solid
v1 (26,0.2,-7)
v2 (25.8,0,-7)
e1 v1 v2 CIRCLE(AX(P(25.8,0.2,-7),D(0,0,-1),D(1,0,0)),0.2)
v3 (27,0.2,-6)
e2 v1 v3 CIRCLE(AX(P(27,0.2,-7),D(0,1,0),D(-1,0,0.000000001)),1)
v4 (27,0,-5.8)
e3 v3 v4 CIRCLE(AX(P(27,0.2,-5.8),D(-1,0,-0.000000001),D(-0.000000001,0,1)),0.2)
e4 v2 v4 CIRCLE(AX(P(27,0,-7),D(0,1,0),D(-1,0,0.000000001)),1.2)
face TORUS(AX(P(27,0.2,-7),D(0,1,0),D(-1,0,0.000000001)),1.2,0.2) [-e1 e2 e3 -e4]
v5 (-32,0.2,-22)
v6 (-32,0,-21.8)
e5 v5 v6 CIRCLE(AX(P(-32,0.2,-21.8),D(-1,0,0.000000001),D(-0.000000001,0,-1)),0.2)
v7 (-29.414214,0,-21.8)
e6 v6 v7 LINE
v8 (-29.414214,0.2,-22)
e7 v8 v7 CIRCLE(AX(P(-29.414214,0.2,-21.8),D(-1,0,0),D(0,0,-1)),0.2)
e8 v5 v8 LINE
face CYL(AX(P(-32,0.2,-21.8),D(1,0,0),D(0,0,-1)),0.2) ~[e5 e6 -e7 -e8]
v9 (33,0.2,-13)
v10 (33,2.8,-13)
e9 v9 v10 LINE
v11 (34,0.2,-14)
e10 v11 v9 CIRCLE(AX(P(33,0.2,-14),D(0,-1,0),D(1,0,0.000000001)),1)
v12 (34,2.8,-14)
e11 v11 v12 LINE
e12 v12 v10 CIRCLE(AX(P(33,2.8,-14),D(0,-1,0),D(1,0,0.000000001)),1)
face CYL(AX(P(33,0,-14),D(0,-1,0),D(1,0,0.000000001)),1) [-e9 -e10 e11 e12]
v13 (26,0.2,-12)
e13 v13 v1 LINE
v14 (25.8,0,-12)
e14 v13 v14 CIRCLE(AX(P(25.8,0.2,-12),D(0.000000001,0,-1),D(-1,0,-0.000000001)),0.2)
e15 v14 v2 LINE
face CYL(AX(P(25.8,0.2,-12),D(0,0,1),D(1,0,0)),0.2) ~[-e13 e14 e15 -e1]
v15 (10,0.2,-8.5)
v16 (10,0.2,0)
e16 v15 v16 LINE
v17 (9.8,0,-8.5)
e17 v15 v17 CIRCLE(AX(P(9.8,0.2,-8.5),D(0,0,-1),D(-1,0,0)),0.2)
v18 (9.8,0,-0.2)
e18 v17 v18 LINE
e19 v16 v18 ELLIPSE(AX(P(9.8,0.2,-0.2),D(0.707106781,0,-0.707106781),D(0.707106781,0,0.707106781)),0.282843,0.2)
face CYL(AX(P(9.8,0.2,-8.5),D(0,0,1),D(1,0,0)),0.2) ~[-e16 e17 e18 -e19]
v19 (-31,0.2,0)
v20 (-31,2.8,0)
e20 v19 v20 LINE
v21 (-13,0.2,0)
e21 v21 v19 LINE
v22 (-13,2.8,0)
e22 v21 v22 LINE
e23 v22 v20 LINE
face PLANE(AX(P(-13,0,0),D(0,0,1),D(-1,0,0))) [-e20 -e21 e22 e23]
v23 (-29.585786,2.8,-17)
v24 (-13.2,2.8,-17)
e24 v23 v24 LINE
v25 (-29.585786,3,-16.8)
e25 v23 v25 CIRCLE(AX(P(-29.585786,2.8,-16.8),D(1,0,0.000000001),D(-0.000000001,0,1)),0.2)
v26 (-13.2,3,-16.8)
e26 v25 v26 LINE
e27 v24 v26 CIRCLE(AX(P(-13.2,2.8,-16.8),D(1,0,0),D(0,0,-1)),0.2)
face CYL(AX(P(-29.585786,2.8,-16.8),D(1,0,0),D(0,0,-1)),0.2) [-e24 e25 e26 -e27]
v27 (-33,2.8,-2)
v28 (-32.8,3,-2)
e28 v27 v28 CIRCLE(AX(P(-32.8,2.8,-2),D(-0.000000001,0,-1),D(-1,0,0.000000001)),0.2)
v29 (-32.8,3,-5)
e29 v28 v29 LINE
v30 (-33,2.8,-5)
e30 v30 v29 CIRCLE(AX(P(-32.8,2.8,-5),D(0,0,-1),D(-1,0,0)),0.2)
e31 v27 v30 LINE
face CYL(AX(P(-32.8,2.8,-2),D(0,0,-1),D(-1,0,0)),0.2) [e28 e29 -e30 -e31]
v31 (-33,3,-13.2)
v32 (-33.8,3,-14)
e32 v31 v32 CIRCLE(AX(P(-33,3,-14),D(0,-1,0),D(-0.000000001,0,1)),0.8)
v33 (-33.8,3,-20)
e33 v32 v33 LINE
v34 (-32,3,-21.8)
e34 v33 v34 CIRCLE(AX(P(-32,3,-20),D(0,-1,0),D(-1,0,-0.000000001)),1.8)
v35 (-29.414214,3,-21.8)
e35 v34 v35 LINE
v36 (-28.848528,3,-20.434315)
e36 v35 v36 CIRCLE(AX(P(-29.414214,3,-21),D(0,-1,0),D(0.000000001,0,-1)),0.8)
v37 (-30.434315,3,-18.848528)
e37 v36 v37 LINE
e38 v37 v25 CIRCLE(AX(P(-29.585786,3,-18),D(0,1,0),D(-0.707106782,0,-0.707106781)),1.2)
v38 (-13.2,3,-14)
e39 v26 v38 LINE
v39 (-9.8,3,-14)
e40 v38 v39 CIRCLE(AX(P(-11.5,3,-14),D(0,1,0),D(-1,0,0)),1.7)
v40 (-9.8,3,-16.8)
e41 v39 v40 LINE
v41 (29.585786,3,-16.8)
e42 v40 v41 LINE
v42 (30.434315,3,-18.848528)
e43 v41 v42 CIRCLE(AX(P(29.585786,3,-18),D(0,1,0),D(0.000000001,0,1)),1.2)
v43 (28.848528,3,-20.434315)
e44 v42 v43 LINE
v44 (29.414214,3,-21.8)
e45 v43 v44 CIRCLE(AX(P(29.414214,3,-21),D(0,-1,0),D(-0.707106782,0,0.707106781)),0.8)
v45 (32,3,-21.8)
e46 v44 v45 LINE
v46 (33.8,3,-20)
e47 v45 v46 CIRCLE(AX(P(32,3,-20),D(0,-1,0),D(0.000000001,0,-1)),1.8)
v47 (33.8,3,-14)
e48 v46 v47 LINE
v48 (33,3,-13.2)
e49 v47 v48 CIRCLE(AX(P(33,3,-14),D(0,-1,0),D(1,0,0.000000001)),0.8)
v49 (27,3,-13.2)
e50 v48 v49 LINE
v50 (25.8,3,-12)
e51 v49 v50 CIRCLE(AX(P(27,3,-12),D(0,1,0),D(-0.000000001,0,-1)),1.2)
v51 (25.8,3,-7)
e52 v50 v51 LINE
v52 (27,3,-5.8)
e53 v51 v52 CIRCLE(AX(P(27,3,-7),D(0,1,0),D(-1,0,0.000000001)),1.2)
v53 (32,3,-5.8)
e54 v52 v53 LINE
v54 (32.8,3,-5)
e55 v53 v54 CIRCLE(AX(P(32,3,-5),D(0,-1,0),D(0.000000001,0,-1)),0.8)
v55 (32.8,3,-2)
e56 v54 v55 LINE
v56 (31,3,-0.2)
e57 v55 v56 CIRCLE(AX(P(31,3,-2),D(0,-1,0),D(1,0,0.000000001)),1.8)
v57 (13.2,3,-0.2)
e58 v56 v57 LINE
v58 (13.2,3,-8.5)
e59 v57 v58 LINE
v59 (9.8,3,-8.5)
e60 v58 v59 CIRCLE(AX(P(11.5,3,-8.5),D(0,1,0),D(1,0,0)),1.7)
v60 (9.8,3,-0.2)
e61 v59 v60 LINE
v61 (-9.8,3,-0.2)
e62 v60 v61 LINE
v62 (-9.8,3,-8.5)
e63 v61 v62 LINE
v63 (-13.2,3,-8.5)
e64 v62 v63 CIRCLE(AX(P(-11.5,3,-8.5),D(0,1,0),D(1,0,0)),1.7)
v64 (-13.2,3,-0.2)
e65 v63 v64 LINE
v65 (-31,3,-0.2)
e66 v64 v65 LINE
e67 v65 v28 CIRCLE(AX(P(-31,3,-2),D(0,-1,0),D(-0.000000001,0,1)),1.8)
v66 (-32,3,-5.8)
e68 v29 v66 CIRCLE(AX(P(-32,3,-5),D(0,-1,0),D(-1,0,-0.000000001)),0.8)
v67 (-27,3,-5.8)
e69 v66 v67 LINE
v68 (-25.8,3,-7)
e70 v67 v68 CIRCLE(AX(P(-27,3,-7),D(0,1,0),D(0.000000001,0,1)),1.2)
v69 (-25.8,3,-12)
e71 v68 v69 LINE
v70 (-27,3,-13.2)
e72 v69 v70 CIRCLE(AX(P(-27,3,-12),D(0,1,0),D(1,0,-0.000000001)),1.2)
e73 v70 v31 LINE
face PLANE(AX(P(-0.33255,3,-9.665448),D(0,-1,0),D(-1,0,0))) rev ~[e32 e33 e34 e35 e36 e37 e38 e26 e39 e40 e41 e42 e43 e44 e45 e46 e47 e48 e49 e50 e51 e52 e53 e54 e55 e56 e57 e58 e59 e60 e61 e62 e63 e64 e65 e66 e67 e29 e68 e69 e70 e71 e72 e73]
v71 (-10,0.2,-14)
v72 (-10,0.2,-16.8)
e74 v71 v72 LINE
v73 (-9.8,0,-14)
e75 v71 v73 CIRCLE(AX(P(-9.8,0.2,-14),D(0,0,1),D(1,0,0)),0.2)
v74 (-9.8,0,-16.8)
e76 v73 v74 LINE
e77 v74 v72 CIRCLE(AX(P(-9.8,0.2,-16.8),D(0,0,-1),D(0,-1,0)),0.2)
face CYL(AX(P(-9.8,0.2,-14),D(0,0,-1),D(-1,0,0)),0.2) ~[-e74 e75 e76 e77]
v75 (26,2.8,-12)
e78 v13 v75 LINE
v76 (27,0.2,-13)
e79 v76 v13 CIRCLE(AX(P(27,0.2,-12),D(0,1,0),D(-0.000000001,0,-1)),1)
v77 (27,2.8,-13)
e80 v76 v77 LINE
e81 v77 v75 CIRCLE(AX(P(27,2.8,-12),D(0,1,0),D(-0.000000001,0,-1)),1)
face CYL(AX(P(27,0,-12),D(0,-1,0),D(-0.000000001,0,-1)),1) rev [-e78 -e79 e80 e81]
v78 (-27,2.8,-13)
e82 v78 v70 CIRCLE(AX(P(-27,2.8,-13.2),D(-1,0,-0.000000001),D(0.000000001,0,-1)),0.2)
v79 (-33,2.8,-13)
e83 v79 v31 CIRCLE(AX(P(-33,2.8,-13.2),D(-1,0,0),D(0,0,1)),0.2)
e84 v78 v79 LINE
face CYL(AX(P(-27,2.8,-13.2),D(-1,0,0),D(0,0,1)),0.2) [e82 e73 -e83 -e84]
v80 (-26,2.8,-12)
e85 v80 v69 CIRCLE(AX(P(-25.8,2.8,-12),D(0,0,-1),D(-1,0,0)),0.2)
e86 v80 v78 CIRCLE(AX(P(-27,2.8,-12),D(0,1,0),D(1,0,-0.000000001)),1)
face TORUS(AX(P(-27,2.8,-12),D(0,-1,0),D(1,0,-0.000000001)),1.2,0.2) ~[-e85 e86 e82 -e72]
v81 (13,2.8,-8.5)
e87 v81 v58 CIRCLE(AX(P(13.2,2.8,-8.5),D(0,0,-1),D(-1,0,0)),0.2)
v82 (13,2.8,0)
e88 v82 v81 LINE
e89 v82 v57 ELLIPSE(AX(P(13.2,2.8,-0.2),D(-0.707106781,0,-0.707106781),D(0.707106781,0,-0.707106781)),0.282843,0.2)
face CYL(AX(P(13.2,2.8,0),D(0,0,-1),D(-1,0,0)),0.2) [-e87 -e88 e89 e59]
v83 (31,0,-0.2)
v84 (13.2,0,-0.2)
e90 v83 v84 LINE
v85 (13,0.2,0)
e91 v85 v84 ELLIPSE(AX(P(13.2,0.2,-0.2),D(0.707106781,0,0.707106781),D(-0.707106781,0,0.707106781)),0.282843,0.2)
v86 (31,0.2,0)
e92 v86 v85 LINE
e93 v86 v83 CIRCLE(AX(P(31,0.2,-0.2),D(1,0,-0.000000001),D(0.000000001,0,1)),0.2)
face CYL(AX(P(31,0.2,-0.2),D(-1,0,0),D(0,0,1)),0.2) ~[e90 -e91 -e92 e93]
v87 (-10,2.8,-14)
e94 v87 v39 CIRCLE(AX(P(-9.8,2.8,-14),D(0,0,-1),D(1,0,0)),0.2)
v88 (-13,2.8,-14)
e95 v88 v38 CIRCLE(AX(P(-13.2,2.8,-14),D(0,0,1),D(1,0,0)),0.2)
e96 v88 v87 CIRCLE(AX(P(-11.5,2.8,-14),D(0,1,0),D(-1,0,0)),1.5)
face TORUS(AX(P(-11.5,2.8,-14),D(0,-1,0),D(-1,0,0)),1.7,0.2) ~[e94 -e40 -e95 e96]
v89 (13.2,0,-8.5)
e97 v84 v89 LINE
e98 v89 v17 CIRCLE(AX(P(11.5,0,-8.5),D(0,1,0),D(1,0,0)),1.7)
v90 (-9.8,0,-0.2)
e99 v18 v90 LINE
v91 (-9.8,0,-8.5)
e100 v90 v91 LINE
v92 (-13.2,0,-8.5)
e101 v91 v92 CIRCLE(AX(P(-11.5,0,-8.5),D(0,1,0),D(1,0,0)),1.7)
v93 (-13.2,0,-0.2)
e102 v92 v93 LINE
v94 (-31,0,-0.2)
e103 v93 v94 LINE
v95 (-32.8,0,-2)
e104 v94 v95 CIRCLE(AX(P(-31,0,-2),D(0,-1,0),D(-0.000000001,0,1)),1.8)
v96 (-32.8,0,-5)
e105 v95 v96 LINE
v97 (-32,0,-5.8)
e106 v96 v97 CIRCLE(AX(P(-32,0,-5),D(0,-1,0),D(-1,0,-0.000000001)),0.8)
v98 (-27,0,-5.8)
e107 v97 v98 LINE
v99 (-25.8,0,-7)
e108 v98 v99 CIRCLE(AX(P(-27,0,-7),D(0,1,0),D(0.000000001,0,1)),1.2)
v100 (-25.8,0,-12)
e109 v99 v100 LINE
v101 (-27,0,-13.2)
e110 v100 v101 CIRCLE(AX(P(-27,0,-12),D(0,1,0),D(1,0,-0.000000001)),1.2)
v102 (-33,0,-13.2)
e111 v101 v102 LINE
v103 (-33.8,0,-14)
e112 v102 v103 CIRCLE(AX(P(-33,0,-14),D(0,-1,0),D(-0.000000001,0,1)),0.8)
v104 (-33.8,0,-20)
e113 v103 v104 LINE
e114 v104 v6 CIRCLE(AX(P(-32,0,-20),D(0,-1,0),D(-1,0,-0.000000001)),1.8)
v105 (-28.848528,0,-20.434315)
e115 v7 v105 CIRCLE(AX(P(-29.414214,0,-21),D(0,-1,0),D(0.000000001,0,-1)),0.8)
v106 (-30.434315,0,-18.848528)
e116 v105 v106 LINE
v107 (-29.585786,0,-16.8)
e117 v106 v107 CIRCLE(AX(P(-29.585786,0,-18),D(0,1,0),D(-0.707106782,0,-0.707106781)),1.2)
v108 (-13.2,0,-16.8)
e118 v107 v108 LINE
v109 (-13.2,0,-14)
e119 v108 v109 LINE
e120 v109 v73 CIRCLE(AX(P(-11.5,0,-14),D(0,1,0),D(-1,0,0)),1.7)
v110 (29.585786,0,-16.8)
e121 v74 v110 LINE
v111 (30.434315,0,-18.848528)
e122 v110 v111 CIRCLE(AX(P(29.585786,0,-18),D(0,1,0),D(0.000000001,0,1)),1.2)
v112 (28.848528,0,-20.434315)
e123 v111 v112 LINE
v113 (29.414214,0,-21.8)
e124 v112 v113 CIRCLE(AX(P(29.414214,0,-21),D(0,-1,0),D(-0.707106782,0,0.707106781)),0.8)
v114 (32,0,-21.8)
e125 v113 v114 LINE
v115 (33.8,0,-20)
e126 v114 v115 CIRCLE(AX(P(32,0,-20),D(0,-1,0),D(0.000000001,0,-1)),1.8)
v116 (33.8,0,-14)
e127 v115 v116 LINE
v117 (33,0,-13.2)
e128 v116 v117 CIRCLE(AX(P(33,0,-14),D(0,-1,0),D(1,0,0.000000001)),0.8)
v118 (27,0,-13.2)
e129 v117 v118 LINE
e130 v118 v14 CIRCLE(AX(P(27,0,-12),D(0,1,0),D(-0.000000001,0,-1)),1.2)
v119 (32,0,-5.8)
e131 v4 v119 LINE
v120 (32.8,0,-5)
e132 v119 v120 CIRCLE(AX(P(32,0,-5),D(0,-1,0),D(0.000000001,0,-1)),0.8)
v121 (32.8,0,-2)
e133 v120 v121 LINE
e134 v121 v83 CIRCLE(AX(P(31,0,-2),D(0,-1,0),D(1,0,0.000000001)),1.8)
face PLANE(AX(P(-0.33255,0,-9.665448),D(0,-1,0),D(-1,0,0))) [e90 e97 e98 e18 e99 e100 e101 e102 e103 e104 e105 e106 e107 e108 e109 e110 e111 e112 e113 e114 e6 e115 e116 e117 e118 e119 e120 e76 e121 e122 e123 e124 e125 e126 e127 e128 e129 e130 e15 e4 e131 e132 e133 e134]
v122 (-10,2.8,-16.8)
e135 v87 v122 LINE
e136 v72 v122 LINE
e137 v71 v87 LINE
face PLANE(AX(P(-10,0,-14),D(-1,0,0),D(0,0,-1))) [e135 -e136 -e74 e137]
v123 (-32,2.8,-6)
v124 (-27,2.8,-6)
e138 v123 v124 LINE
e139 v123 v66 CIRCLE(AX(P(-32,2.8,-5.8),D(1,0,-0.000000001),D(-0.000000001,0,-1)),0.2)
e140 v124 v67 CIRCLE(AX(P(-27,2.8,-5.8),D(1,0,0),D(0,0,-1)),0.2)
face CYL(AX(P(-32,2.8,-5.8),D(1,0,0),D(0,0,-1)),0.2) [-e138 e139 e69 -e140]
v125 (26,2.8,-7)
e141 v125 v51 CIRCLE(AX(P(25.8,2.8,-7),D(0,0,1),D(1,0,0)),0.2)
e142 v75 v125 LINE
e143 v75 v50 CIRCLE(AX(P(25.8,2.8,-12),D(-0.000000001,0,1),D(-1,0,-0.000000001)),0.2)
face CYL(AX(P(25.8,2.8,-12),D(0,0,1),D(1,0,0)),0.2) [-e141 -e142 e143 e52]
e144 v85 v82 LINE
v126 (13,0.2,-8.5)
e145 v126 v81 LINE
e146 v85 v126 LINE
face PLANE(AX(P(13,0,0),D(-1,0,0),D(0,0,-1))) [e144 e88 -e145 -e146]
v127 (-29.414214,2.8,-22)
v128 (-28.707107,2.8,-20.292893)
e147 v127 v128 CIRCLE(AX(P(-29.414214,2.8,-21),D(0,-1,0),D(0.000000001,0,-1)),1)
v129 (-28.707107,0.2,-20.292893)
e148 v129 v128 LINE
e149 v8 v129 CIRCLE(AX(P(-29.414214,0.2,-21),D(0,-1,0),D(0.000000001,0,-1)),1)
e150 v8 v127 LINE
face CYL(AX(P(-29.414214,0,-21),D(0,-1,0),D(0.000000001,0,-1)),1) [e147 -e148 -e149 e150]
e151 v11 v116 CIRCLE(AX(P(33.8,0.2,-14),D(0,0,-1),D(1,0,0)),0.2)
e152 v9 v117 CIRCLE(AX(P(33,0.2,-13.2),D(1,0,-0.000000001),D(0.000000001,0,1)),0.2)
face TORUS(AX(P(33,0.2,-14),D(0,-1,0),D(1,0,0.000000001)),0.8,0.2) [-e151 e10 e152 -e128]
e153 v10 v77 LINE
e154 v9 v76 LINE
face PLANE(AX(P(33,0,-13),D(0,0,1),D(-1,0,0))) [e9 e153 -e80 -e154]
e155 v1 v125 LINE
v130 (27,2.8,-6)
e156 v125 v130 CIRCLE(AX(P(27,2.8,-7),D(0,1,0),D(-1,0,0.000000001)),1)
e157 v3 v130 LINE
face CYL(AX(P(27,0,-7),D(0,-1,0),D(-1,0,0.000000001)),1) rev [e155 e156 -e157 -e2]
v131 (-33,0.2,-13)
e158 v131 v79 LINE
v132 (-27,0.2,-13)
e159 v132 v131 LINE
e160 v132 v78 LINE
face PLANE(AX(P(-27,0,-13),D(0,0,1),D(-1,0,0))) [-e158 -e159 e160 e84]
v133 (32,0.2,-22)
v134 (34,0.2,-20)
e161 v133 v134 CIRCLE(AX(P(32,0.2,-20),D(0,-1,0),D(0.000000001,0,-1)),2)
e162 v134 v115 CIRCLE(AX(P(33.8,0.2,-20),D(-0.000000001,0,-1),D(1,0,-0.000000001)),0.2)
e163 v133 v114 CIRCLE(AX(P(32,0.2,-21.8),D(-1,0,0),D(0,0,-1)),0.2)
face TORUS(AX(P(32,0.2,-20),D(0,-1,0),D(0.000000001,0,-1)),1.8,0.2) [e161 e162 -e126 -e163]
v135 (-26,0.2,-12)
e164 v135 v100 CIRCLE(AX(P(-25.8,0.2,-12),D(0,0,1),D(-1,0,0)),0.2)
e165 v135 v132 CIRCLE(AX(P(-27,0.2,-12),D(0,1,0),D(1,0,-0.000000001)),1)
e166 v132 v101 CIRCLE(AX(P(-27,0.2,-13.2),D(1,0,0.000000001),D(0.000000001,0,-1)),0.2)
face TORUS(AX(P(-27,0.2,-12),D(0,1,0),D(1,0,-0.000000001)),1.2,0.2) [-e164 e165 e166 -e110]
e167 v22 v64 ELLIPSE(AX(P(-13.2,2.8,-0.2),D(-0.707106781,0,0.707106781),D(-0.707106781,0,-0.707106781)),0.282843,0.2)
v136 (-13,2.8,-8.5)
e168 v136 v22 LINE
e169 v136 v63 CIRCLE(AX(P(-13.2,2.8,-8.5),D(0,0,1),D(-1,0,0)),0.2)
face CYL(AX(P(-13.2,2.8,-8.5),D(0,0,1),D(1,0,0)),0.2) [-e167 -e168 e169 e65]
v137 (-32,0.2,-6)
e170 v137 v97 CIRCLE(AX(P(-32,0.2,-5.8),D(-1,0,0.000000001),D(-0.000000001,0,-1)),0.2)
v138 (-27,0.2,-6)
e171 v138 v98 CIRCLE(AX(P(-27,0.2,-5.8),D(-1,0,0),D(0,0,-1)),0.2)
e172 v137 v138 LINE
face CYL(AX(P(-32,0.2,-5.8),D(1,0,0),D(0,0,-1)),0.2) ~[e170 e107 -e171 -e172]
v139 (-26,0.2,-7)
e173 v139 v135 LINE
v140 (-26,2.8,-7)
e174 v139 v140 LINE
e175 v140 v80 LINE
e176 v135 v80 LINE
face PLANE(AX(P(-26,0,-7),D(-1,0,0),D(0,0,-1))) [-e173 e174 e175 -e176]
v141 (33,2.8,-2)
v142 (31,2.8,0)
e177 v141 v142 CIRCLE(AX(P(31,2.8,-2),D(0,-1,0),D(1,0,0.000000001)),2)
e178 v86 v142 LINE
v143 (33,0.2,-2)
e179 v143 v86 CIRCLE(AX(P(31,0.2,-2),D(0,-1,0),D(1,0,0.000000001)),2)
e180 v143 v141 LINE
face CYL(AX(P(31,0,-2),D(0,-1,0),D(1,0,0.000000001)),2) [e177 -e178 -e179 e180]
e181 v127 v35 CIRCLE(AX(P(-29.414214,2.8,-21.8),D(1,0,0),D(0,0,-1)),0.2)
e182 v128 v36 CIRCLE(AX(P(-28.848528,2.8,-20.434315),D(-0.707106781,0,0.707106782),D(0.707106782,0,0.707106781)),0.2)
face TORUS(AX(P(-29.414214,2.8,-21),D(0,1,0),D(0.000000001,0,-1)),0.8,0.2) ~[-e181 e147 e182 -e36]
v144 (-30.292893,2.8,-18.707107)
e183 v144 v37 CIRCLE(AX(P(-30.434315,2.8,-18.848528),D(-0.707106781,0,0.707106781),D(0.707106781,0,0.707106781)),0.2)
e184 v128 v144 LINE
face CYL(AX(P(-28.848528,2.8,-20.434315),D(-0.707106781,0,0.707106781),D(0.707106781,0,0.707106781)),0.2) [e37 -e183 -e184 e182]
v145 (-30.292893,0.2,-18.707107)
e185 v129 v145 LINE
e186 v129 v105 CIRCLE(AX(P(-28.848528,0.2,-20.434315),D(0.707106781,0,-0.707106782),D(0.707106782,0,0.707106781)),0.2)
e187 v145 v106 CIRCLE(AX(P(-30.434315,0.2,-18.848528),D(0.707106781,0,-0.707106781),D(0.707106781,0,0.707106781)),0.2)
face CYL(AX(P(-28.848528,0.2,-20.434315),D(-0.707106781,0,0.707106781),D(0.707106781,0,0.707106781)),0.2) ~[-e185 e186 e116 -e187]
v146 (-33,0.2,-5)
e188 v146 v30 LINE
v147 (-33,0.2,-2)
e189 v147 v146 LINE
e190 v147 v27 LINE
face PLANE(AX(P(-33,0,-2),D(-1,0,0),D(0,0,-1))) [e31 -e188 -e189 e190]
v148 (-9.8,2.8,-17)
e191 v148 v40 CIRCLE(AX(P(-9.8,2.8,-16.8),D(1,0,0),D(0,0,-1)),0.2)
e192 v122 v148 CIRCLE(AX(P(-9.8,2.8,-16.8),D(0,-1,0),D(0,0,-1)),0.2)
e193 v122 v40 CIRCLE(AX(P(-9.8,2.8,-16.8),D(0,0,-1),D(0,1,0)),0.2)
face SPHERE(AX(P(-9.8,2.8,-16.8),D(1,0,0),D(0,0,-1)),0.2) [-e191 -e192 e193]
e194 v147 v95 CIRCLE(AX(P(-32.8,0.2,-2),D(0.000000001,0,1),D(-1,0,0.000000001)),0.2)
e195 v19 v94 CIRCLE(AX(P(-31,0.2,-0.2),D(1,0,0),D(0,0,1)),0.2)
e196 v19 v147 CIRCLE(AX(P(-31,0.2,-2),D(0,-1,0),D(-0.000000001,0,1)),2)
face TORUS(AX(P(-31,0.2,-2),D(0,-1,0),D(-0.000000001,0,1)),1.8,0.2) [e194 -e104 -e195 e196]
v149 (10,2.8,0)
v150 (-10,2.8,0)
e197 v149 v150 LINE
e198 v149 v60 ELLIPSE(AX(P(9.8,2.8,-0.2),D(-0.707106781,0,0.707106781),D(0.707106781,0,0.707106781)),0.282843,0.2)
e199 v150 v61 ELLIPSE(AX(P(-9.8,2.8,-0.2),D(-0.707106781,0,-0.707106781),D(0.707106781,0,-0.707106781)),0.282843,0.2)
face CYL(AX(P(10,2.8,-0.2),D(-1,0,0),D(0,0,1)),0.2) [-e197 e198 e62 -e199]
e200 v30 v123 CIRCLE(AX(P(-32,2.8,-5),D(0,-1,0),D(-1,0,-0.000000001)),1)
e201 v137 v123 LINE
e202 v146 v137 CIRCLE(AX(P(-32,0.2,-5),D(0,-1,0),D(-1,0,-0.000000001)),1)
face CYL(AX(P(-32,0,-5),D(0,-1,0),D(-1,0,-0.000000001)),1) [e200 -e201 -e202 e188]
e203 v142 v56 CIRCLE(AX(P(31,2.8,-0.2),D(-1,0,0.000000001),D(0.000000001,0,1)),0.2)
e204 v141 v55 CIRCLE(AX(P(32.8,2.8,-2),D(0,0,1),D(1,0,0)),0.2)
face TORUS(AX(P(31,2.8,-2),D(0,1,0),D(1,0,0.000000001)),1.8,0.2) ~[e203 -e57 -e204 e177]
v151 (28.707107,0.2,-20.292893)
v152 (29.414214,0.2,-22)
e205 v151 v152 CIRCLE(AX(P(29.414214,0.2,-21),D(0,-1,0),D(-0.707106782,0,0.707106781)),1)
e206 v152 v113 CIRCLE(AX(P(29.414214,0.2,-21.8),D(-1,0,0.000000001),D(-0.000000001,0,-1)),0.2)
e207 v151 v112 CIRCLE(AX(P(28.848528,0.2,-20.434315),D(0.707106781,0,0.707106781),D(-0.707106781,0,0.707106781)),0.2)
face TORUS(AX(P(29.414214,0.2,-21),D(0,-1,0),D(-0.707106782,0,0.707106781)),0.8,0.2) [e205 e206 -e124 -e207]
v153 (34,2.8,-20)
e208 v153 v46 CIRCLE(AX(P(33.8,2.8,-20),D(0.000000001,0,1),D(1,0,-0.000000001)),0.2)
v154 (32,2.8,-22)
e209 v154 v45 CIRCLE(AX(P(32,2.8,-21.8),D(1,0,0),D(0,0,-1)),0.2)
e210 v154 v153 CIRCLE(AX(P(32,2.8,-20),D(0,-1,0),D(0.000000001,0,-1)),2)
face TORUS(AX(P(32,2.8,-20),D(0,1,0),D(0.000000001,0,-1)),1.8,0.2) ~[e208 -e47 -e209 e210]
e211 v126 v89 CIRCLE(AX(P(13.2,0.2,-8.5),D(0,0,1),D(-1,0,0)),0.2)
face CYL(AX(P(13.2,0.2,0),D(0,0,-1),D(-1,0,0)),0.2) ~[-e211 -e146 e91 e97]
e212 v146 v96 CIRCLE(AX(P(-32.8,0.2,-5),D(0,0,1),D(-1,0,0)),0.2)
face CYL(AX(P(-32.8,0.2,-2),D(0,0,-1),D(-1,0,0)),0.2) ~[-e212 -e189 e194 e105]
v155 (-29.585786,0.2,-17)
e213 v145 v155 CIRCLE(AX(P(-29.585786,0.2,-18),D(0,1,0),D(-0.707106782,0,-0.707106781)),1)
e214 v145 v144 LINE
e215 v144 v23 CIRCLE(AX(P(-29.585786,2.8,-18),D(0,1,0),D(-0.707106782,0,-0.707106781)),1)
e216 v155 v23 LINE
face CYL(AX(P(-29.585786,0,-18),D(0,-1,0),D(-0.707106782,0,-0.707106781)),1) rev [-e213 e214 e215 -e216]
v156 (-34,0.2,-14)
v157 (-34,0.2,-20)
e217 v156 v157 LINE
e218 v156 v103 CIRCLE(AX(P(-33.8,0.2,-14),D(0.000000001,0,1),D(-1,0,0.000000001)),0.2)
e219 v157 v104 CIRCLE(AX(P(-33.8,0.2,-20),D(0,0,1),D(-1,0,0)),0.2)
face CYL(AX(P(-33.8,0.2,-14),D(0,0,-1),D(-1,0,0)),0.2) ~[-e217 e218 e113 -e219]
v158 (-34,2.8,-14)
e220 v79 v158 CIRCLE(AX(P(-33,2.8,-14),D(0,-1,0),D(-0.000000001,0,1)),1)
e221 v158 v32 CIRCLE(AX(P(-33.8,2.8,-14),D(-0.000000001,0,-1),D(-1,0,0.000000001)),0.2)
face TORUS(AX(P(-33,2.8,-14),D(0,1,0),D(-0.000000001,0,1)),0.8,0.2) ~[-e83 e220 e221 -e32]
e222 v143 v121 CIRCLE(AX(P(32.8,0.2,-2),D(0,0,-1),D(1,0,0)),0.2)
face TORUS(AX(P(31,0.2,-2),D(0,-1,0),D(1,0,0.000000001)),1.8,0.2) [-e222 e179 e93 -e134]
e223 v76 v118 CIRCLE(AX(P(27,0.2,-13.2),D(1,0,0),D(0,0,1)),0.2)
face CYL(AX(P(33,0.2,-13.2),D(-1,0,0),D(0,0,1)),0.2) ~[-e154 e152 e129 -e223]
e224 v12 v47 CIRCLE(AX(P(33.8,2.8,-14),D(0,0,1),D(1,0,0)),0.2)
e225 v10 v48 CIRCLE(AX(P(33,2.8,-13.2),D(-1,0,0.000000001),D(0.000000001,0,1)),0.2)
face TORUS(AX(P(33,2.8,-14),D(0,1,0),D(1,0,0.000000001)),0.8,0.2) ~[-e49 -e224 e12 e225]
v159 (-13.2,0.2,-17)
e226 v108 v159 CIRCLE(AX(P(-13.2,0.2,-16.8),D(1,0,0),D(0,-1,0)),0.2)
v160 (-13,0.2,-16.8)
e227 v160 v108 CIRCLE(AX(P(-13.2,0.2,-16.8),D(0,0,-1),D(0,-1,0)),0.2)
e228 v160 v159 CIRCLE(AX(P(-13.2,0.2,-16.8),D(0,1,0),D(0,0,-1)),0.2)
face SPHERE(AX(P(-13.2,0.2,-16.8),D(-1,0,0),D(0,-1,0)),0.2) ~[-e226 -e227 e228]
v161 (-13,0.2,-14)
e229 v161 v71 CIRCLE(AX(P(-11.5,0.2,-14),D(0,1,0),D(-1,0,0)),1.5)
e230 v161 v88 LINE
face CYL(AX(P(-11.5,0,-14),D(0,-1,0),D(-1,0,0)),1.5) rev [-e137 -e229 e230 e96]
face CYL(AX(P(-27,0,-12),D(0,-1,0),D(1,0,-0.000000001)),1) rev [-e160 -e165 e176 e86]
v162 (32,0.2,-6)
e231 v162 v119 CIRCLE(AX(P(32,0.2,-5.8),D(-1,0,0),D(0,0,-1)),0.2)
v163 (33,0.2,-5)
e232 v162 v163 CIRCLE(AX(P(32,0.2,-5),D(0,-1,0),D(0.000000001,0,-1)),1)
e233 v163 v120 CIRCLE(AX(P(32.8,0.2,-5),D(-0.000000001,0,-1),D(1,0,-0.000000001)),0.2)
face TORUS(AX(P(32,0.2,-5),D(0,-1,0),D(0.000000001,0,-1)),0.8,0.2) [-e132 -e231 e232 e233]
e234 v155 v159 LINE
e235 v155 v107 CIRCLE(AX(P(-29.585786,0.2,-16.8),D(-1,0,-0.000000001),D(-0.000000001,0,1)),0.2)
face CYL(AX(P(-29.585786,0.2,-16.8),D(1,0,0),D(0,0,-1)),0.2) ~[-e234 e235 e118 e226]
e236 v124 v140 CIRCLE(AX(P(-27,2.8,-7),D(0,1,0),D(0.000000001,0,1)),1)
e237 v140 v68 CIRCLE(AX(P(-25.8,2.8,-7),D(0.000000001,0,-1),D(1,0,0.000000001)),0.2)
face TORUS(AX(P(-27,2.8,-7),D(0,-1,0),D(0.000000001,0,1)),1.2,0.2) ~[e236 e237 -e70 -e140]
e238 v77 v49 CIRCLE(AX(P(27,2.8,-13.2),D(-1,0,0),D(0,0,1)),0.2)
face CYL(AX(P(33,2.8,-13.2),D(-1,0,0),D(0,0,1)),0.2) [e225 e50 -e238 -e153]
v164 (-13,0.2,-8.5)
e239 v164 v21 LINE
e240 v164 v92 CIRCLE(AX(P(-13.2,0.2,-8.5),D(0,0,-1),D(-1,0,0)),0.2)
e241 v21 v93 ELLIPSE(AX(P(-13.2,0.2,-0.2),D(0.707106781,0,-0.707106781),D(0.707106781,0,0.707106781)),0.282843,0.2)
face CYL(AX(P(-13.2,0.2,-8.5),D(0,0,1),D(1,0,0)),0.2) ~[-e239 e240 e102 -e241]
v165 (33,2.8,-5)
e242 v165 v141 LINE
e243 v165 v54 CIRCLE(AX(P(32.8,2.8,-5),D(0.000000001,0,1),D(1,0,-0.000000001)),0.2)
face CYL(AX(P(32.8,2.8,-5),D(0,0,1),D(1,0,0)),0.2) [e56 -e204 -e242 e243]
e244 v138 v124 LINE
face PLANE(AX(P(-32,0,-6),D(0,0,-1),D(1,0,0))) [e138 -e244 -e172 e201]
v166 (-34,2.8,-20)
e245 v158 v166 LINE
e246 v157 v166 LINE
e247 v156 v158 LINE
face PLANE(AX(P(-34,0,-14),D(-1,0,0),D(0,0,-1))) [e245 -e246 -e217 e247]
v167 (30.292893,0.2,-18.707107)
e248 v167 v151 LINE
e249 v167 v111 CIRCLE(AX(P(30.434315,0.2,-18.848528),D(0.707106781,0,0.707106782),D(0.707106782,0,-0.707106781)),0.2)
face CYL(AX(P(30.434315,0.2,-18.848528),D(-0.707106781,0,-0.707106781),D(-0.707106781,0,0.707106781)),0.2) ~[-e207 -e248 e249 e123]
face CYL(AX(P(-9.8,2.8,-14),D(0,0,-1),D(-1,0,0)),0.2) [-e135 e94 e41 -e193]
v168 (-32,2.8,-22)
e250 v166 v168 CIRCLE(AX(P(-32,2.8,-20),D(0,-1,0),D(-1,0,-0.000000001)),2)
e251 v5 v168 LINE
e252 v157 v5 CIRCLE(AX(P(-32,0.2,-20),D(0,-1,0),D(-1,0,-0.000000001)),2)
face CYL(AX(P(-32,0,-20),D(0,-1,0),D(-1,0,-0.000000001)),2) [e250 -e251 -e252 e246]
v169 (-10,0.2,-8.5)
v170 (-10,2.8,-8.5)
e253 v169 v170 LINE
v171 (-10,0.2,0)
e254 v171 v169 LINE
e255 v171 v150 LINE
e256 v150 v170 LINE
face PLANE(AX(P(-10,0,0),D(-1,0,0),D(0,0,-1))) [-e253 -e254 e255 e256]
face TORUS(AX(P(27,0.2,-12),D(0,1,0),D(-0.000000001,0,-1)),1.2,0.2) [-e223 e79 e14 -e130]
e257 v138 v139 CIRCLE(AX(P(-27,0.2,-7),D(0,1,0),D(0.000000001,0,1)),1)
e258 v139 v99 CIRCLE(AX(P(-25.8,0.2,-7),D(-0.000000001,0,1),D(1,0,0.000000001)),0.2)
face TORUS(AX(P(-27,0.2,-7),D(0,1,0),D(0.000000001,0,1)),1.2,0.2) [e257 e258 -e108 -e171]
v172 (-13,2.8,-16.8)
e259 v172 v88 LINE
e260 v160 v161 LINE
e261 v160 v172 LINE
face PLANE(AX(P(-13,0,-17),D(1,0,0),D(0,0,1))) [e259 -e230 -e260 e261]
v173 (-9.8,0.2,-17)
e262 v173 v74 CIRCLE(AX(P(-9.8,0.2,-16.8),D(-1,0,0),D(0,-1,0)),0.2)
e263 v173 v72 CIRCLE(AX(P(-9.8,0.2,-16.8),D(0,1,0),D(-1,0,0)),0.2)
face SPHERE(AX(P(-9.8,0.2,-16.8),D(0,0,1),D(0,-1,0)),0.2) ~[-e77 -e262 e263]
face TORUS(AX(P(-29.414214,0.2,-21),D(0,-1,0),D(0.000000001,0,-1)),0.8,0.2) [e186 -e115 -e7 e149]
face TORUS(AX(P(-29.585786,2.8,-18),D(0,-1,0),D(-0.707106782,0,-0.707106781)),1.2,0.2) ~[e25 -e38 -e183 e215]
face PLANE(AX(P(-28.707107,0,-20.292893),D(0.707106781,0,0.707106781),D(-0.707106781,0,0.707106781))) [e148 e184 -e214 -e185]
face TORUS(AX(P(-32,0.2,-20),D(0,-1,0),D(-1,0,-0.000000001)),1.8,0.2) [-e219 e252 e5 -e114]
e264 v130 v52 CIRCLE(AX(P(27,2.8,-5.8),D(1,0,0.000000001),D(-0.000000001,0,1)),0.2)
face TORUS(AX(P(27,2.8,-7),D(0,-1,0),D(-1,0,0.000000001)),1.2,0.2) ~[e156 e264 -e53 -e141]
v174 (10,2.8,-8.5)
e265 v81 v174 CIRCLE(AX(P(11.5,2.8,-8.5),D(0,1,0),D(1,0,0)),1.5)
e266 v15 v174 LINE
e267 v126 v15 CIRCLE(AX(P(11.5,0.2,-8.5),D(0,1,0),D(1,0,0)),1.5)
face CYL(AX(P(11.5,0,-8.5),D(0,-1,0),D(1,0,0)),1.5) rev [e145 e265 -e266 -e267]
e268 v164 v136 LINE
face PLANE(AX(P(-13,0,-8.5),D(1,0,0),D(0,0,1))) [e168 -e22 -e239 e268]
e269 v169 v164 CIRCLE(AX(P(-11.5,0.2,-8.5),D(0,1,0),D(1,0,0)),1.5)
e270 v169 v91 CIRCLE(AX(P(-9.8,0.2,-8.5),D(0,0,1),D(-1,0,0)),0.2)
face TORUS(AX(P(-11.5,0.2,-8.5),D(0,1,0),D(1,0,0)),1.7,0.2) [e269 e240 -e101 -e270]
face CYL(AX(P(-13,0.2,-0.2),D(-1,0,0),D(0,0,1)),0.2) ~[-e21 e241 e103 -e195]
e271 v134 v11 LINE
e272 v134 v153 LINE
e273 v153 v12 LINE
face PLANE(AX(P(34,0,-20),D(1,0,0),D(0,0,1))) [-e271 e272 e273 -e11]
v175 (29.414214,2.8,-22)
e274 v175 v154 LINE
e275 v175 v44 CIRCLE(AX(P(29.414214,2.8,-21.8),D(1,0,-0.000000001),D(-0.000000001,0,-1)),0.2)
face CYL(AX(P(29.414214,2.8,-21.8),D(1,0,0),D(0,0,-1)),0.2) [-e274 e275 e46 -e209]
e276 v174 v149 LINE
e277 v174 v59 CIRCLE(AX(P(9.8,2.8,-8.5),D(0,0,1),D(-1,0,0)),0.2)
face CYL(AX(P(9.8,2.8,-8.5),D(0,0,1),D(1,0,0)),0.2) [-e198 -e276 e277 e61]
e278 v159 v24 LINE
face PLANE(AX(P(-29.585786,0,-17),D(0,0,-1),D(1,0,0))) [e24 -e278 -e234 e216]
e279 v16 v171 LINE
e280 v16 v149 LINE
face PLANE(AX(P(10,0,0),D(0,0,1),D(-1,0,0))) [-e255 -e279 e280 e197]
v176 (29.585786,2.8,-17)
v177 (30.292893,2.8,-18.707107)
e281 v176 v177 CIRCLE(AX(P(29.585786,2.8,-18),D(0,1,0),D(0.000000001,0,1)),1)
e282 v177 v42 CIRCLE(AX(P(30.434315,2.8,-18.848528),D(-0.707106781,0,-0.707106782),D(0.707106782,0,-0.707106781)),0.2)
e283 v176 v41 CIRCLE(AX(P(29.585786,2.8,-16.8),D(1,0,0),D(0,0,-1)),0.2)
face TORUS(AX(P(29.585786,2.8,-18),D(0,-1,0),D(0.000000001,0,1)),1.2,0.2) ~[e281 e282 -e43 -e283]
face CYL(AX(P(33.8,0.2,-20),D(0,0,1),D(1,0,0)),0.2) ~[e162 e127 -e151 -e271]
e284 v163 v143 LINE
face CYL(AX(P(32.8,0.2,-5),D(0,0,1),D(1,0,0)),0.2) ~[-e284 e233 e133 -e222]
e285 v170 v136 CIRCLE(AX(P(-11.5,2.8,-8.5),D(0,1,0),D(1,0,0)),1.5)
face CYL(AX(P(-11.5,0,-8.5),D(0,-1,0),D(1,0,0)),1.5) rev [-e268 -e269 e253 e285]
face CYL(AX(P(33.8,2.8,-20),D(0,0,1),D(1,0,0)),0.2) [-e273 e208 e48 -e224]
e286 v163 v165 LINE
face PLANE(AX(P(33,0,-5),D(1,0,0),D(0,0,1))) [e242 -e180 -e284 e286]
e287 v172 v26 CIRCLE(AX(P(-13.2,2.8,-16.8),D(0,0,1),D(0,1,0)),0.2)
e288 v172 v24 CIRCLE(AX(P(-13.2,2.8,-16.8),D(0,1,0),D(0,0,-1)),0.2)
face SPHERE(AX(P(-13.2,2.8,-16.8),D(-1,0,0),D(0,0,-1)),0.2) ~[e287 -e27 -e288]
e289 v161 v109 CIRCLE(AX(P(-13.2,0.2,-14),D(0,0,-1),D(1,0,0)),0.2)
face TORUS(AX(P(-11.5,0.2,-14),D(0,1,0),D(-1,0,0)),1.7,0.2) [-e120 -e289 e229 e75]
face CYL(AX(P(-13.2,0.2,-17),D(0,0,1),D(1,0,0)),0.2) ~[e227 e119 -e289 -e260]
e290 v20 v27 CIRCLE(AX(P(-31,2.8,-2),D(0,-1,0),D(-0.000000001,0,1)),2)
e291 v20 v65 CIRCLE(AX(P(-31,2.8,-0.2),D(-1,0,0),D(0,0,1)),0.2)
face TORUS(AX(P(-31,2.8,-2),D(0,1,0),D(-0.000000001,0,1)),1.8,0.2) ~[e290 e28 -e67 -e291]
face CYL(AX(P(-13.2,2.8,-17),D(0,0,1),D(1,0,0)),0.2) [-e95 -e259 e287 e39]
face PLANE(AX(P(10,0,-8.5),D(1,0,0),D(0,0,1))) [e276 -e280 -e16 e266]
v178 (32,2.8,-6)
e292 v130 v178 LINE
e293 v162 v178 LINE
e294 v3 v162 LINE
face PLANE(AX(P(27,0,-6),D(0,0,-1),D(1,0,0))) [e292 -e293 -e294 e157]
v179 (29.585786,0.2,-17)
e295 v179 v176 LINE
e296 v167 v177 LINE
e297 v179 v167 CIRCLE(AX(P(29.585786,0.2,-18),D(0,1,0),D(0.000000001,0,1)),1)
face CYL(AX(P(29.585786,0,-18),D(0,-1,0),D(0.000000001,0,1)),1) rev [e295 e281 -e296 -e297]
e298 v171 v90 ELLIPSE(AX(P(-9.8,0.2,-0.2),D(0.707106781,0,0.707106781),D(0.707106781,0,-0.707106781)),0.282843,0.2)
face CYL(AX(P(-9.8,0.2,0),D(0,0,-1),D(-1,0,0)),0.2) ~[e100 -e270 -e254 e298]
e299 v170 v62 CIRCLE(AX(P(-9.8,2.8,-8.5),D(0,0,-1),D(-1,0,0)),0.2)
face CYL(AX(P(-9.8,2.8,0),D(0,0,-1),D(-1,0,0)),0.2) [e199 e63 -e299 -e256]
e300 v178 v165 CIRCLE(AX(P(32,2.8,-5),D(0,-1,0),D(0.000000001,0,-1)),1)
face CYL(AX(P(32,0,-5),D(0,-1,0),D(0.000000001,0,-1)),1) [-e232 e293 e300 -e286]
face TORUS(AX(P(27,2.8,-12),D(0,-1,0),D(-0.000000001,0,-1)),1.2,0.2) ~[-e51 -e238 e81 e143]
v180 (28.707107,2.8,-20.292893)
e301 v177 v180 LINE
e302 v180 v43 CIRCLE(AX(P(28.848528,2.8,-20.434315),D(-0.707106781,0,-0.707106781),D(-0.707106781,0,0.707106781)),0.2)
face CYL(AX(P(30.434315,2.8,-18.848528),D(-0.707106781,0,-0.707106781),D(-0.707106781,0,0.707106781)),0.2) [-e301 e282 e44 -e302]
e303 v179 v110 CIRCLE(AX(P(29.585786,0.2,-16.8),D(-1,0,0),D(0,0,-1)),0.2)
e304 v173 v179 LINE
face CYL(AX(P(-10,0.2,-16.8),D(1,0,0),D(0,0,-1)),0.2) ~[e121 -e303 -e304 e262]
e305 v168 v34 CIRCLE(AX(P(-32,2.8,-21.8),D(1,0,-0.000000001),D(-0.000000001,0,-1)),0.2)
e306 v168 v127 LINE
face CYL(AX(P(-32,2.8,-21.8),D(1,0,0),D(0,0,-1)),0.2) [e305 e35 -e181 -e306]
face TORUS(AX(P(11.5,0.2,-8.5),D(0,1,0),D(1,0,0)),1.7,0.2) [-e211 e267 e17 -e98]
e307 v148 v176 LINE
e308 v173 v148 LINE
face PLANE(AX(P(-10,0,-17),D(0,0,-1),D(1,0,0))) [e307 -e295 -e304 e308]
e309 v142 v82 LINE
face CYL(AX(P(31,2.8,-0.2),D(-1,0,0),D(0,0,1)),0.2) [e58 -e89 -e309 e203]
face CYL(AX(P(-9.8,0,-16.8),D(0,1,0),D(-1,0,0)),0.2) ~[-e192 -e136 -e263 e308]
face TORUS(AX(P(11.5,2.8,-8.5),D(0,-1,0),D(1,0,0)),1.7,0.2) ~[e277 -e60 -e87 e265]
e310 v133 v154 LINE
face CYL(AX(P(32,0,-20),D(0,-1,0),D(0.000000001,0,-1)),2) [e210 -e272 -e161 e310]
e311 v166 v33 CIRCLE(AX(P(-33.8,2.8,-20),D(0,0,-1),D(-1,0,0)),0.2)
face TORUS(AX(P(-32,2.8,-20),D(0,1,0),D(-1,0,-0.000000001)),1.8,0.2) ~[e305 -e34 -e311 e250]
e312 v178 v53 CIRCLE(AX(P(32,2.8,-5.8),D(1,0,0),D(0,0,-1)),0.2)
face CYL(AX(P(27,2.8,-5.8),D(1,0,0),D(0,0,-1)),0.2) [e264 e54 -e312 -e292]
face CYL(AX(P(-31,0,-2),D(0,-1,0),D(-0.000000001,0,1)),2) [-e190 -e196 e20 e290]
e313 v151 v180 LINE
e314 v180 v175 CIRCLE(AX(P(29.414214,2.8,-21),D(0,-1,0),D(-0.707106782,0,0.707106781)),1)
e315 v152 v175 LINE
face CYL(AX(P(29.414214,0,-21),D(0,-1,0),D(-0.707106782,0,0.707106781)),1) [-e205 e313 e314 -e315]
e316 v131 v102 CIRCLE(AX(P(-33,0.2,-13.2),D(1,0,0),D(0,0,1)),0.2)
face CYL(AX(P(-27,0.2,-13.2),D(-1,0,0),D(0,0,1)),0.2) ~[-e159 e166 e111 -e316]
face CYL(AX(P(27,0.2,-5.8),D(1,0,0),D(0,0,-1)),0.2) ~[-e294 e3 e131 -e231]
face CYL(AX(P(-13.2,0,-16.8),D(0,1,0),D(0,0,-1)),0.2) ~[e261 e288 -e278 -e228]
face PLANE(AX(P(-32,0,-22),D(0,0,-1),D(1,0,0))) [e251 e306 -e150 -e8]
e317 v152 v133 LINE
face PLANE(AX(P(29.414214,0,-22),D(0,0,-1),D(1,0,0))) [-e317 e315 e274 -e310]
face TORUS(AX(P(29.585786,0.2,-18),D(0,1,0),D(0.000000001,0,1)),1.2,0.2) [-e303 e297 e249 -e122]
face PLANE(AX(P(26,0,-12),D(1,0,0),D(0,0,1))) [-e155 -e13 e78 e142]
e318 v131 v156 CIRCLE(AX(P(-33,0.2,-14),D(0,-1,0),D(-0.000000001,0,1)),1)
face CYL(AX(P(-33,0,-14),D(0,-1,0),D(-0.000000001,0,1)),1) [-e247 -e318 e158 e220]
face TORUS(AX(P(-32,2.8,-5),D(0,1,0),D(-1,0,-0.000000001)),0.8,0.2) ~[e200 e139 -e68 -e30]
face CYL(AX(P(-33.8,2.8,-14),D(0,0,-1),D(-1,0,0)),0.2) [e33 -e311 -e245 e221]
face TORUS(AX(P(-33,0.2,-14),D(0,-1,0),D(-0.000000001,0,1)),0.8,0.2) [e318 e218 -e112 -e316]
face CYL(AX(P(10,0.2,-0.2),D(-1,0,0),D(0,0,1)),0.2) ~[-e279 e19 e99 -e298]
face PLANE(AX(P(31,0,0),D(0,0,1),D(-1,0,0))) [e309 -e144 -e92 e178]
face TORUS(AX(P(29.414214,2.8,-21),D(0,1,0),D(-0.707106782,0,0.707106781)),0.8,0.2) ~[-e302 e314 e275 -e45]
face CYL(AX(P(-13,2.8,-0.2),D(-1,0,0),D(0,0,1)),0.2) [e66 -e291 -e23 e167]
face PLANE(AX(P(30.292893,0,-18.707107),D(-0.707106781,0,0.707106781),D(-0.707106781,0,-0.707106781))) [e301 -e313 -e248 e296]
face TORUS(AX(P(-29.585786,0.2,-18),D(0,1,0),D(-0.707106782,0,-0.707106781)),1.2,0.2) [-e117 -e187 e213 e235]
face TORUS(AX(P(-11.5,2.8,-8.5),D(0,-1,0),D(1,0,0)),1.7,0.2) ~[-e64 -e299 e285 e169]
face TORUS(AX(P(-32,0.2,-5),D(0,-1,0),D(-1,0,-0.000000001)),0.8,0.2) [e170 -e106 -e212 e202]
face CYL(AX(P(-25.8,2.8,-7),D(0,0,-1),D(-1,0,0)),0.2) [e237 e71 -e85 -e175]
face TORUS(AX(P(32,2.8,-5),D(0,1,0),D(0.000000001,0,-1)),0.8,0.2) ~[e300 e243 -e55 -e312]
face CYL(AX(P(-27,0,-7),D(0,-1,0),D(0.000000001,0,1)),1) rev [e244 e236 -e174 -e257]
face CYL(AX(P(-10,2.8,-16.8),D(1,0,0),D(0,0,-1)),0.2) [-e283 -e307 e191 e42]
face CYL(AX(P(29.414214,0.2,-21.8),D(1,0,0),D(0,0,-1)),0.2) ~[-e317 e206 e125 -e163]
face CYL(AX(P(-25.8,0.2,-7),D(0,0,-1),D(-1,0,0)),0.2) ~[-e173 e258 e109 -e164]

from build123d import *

# Parameters (mm, degrees)
BOSS_EXTRUDE1_DEPTH = 3
FILLET1_R           = 0.2


with BuildPart() as part:
    # Sketch1 → Boss-Extrude1 (new body)
    with BuildSketch(Plane(origin=(0, 0, 0), x_dir=(1, 0, 0), z_dir=(0, 1, 0))):
        with BuildLine():
            Line((10, 0), (-10, 0))
            Line((-10, 0), (-10, 8.5))
            ThreePointArc((-10, 8.5), (-11.5, 10), (-13, 8.5))
            Line((-13, 8.5), (-13, 0))
            Line((-13, 0), (-31, 0))
            ThreePointArc((-31, 0), (-32.414213562, 0.585786438), (-33, 2))
            Line((-33, 2), (-33, 5))
            ThreePointArc((-33, 5), (-32.707106781, 5.707106781), (-32, 6))
            Line((-32, 6), (-27, 6))
            ThreePointArc((-27, 6), (-26.292893219, 6.292893219), (-26, 7))
            Line((-26, 7), (-26, 12))
            ThreePointArc((-26, 12), (-26.292893219, 12.707106781), (-27, 13))
            Line((-27, 13), (-33, 13))
            ThreePointArc((-33, 13), (-33.707106781, 13.292893219), (-34, 14))
            Line((-34, 14), (-34, 20))
            ThreePointArc((-34, 20), (-33.414213562, 21.414213562), (-32, 22))
            Line((-32, 22), (-29.414213562, 22))
            ThreePointArc((-29.414213562, 22), (-28.49033403, 21.382683432), (-28.707106781, 20.292893219))
            Line((-28.707106781, 20.292893219), (-30.292893219, 18.707106781))
            ThreePointArc((-30.292893219, 18.707106781), (-30.50966597, 17.617316568), (-29.585786438, 17))
            Line((-29.585786438, 17), (-13, 17))
            Line((-13, 17), (-13, 14))
            ThreePointArc((-13, 14), (-11.5, 12.5), (-10, 14))
            Line((-10, 14), (-10, 17))
            Line((-10, 17), (29.585786438, 17))
            ThreePointArc((29.585786438, 17), (30.50966597, 17.617316568), (30.292893219, 18.707106781))
            Line((30.292893219, 18.707106781), (28.707106781, 20.292893219))
            ThreePointArc((28.707106781, 20.292893219), (28.49033403, 21.382683432), (29.414213562, 22))
            Line((29.414213562, 22), (32, 22))
            ThreePointArc((32, 22), (33.414213562, 21.414213562), (34, 20))
            Line((34, 20), (34, 14))
            ThreePointArc((34, 14), (33.707106781, 13.292893219), (33, 13))
            Line((33, 13), (27, 13))
            ThreePointArc((27, 13), (26.292893219, 12.707106781), (26, 12))
            Line((26, 12), (26, 7))
            ThreePointArc((26, 7), (26.292893219, 6.292893219), (27, 6))
            Line((27, 6), (32, 6))
            ThreePointArc((32, 6), (32.707106781, 5.707106781), (33, 5))
            Line((33, 5), (33, 2))
            ThreePointArc((33, 2), (32.414213562, 0.585786438), (31, 0))
            Line((31, 0), (13, 0))
            Line((13, 0), (13, 8.5))
            ThreePointArc((13, 8.5), (11.5, 10), (10, 8.5))
            Line((10, 8.5), (10, 0))
        make_face()
    extrude(amount=BOSS_EXTRUDE1_DEPTH)

    # Fillet1
    fillet1_edges = [part.edges().sort_by_distance(p)[0] for p in [
        (10, 3, -4.25),
        (-33.707106781, 3, -13.292893219),
        (-30, 3, -13),
        (-26.292893219, 3, -12.707106781),
        (-26, 3, -9.5),
        (-26.292893219, 3, -6.292893219),
        (-29.5, 3, -6),
        (-32.707106781, 3, -5.707106781),
        (-33, 3, -3.5),
        (-32.414213562, 3, -0.585786438),
        (-22, 3, 0),
        (11.5, 3, -10),
        (-13, 3, -4.25),
        (-11.5, 3, -10),
        (13, 3, -4.25),
        (22, 3, 0),
        (32.414213562, 3, -0.585786438),
        (33, 3, -3.5),
        (32.707106781, 3, -5.707106781),
        (29.5, 3, -6),
        (26.292893219, 3, -6.292893219),
        (-11.5, 0, -10),
        (-13, 0, -4.25),
        (26, 3, -9.5),
        (-22, 0, 0),
        (-32.414213562, 0, -0.585786438),
        (-33, 0, -3.5),
        (-32.707106781, 0, -5.707106781),
        (-29.5, 0, -6),
        (-26.292893219, 0, -6.292893219),
        (-26, 0, -9.5),
        (-10, 3, -4.25),
        (26.292893219, 3, -12.707106781),
        (-26.292893219, 0, -12.707106781),
        (-30, 0, -13),
        (-33.707106781, 0, -13.292893219),
        (-34, 0, -17),
        (-33.414213562, 0, -21.414213562),
        (-30.707106781, 0, -22),
        (-28.49033403, 0, -21.382683432),
        (-29.5, 0, -19.5),
        (30, 3, -13),
        (-30.50966597, 0, -17.617316568),
        (-21.292893219, 0, -17),
        (-13, 0, -15.5),
        (-11.5, 0, -12.5),
        (-10, 0, -15.5),
        (9.792893219, 0, -17),
        (30.50966597, 0, -17.617316568),
        (33.707106781, 3, -13.292893219),
        (29.5, 0, -19.5),
        (28.49033403, 0, -21.382683432),
        (30.707106781, 0, -22),
        (33.414213562, 0, -21.414213562),
        (34, 0, -17),
        (33.707106781, 0, -13.292893219),
        (30, 0, -13),
        (26.292893219, 0, -12.707106781),
        (34, 3, -17),
        (26, 0, -9.5),
        (26.292893219, 0, -6.292893219),
        (29.5, 0, -6),
        (32.707106781, 0, -5.707106781),
        (33, 0, -3.5),
        (32.414213562, 0, -0.585786438),
        (22, 0, 0),
        (33.414213562, 3, -21.414213562),
        (13, 0, -4.25),
        (11.5, 0, -10),
        (10, 0, -4.25),
        (0, 0, 0),
        (-10, 0, -4.25),
        (30.707106781, 3, -22),
        (28.49033403, 3, -21.382683432),
        (29.5, 3, -19.5),
        (30.50966597, 3, -17.617316568),
        (9.792893219, 3, -17),
        (-13, 1.5, -17),
        (-10, 1.5, -17),
        (0, 3, 0),
        (-10, 3, -15.5),
        (-11.5, 3, -12.5),
        (-13, 3, -15.5),
        (-21.292893219, 3, -17),
        (-30.50966597, 3, -17.617316568),
        (-29.5, 3, -19.5),
        (-28.49033403, 3, -21.382683432),
        (-30.707106781, 3, -22),
        (-33.414213562, 3, -21.414213562),
        (-34, 3, -17),
    ]]
    fillet(fillet1_edges, radius=FILLET1_R)


solid = part.part
